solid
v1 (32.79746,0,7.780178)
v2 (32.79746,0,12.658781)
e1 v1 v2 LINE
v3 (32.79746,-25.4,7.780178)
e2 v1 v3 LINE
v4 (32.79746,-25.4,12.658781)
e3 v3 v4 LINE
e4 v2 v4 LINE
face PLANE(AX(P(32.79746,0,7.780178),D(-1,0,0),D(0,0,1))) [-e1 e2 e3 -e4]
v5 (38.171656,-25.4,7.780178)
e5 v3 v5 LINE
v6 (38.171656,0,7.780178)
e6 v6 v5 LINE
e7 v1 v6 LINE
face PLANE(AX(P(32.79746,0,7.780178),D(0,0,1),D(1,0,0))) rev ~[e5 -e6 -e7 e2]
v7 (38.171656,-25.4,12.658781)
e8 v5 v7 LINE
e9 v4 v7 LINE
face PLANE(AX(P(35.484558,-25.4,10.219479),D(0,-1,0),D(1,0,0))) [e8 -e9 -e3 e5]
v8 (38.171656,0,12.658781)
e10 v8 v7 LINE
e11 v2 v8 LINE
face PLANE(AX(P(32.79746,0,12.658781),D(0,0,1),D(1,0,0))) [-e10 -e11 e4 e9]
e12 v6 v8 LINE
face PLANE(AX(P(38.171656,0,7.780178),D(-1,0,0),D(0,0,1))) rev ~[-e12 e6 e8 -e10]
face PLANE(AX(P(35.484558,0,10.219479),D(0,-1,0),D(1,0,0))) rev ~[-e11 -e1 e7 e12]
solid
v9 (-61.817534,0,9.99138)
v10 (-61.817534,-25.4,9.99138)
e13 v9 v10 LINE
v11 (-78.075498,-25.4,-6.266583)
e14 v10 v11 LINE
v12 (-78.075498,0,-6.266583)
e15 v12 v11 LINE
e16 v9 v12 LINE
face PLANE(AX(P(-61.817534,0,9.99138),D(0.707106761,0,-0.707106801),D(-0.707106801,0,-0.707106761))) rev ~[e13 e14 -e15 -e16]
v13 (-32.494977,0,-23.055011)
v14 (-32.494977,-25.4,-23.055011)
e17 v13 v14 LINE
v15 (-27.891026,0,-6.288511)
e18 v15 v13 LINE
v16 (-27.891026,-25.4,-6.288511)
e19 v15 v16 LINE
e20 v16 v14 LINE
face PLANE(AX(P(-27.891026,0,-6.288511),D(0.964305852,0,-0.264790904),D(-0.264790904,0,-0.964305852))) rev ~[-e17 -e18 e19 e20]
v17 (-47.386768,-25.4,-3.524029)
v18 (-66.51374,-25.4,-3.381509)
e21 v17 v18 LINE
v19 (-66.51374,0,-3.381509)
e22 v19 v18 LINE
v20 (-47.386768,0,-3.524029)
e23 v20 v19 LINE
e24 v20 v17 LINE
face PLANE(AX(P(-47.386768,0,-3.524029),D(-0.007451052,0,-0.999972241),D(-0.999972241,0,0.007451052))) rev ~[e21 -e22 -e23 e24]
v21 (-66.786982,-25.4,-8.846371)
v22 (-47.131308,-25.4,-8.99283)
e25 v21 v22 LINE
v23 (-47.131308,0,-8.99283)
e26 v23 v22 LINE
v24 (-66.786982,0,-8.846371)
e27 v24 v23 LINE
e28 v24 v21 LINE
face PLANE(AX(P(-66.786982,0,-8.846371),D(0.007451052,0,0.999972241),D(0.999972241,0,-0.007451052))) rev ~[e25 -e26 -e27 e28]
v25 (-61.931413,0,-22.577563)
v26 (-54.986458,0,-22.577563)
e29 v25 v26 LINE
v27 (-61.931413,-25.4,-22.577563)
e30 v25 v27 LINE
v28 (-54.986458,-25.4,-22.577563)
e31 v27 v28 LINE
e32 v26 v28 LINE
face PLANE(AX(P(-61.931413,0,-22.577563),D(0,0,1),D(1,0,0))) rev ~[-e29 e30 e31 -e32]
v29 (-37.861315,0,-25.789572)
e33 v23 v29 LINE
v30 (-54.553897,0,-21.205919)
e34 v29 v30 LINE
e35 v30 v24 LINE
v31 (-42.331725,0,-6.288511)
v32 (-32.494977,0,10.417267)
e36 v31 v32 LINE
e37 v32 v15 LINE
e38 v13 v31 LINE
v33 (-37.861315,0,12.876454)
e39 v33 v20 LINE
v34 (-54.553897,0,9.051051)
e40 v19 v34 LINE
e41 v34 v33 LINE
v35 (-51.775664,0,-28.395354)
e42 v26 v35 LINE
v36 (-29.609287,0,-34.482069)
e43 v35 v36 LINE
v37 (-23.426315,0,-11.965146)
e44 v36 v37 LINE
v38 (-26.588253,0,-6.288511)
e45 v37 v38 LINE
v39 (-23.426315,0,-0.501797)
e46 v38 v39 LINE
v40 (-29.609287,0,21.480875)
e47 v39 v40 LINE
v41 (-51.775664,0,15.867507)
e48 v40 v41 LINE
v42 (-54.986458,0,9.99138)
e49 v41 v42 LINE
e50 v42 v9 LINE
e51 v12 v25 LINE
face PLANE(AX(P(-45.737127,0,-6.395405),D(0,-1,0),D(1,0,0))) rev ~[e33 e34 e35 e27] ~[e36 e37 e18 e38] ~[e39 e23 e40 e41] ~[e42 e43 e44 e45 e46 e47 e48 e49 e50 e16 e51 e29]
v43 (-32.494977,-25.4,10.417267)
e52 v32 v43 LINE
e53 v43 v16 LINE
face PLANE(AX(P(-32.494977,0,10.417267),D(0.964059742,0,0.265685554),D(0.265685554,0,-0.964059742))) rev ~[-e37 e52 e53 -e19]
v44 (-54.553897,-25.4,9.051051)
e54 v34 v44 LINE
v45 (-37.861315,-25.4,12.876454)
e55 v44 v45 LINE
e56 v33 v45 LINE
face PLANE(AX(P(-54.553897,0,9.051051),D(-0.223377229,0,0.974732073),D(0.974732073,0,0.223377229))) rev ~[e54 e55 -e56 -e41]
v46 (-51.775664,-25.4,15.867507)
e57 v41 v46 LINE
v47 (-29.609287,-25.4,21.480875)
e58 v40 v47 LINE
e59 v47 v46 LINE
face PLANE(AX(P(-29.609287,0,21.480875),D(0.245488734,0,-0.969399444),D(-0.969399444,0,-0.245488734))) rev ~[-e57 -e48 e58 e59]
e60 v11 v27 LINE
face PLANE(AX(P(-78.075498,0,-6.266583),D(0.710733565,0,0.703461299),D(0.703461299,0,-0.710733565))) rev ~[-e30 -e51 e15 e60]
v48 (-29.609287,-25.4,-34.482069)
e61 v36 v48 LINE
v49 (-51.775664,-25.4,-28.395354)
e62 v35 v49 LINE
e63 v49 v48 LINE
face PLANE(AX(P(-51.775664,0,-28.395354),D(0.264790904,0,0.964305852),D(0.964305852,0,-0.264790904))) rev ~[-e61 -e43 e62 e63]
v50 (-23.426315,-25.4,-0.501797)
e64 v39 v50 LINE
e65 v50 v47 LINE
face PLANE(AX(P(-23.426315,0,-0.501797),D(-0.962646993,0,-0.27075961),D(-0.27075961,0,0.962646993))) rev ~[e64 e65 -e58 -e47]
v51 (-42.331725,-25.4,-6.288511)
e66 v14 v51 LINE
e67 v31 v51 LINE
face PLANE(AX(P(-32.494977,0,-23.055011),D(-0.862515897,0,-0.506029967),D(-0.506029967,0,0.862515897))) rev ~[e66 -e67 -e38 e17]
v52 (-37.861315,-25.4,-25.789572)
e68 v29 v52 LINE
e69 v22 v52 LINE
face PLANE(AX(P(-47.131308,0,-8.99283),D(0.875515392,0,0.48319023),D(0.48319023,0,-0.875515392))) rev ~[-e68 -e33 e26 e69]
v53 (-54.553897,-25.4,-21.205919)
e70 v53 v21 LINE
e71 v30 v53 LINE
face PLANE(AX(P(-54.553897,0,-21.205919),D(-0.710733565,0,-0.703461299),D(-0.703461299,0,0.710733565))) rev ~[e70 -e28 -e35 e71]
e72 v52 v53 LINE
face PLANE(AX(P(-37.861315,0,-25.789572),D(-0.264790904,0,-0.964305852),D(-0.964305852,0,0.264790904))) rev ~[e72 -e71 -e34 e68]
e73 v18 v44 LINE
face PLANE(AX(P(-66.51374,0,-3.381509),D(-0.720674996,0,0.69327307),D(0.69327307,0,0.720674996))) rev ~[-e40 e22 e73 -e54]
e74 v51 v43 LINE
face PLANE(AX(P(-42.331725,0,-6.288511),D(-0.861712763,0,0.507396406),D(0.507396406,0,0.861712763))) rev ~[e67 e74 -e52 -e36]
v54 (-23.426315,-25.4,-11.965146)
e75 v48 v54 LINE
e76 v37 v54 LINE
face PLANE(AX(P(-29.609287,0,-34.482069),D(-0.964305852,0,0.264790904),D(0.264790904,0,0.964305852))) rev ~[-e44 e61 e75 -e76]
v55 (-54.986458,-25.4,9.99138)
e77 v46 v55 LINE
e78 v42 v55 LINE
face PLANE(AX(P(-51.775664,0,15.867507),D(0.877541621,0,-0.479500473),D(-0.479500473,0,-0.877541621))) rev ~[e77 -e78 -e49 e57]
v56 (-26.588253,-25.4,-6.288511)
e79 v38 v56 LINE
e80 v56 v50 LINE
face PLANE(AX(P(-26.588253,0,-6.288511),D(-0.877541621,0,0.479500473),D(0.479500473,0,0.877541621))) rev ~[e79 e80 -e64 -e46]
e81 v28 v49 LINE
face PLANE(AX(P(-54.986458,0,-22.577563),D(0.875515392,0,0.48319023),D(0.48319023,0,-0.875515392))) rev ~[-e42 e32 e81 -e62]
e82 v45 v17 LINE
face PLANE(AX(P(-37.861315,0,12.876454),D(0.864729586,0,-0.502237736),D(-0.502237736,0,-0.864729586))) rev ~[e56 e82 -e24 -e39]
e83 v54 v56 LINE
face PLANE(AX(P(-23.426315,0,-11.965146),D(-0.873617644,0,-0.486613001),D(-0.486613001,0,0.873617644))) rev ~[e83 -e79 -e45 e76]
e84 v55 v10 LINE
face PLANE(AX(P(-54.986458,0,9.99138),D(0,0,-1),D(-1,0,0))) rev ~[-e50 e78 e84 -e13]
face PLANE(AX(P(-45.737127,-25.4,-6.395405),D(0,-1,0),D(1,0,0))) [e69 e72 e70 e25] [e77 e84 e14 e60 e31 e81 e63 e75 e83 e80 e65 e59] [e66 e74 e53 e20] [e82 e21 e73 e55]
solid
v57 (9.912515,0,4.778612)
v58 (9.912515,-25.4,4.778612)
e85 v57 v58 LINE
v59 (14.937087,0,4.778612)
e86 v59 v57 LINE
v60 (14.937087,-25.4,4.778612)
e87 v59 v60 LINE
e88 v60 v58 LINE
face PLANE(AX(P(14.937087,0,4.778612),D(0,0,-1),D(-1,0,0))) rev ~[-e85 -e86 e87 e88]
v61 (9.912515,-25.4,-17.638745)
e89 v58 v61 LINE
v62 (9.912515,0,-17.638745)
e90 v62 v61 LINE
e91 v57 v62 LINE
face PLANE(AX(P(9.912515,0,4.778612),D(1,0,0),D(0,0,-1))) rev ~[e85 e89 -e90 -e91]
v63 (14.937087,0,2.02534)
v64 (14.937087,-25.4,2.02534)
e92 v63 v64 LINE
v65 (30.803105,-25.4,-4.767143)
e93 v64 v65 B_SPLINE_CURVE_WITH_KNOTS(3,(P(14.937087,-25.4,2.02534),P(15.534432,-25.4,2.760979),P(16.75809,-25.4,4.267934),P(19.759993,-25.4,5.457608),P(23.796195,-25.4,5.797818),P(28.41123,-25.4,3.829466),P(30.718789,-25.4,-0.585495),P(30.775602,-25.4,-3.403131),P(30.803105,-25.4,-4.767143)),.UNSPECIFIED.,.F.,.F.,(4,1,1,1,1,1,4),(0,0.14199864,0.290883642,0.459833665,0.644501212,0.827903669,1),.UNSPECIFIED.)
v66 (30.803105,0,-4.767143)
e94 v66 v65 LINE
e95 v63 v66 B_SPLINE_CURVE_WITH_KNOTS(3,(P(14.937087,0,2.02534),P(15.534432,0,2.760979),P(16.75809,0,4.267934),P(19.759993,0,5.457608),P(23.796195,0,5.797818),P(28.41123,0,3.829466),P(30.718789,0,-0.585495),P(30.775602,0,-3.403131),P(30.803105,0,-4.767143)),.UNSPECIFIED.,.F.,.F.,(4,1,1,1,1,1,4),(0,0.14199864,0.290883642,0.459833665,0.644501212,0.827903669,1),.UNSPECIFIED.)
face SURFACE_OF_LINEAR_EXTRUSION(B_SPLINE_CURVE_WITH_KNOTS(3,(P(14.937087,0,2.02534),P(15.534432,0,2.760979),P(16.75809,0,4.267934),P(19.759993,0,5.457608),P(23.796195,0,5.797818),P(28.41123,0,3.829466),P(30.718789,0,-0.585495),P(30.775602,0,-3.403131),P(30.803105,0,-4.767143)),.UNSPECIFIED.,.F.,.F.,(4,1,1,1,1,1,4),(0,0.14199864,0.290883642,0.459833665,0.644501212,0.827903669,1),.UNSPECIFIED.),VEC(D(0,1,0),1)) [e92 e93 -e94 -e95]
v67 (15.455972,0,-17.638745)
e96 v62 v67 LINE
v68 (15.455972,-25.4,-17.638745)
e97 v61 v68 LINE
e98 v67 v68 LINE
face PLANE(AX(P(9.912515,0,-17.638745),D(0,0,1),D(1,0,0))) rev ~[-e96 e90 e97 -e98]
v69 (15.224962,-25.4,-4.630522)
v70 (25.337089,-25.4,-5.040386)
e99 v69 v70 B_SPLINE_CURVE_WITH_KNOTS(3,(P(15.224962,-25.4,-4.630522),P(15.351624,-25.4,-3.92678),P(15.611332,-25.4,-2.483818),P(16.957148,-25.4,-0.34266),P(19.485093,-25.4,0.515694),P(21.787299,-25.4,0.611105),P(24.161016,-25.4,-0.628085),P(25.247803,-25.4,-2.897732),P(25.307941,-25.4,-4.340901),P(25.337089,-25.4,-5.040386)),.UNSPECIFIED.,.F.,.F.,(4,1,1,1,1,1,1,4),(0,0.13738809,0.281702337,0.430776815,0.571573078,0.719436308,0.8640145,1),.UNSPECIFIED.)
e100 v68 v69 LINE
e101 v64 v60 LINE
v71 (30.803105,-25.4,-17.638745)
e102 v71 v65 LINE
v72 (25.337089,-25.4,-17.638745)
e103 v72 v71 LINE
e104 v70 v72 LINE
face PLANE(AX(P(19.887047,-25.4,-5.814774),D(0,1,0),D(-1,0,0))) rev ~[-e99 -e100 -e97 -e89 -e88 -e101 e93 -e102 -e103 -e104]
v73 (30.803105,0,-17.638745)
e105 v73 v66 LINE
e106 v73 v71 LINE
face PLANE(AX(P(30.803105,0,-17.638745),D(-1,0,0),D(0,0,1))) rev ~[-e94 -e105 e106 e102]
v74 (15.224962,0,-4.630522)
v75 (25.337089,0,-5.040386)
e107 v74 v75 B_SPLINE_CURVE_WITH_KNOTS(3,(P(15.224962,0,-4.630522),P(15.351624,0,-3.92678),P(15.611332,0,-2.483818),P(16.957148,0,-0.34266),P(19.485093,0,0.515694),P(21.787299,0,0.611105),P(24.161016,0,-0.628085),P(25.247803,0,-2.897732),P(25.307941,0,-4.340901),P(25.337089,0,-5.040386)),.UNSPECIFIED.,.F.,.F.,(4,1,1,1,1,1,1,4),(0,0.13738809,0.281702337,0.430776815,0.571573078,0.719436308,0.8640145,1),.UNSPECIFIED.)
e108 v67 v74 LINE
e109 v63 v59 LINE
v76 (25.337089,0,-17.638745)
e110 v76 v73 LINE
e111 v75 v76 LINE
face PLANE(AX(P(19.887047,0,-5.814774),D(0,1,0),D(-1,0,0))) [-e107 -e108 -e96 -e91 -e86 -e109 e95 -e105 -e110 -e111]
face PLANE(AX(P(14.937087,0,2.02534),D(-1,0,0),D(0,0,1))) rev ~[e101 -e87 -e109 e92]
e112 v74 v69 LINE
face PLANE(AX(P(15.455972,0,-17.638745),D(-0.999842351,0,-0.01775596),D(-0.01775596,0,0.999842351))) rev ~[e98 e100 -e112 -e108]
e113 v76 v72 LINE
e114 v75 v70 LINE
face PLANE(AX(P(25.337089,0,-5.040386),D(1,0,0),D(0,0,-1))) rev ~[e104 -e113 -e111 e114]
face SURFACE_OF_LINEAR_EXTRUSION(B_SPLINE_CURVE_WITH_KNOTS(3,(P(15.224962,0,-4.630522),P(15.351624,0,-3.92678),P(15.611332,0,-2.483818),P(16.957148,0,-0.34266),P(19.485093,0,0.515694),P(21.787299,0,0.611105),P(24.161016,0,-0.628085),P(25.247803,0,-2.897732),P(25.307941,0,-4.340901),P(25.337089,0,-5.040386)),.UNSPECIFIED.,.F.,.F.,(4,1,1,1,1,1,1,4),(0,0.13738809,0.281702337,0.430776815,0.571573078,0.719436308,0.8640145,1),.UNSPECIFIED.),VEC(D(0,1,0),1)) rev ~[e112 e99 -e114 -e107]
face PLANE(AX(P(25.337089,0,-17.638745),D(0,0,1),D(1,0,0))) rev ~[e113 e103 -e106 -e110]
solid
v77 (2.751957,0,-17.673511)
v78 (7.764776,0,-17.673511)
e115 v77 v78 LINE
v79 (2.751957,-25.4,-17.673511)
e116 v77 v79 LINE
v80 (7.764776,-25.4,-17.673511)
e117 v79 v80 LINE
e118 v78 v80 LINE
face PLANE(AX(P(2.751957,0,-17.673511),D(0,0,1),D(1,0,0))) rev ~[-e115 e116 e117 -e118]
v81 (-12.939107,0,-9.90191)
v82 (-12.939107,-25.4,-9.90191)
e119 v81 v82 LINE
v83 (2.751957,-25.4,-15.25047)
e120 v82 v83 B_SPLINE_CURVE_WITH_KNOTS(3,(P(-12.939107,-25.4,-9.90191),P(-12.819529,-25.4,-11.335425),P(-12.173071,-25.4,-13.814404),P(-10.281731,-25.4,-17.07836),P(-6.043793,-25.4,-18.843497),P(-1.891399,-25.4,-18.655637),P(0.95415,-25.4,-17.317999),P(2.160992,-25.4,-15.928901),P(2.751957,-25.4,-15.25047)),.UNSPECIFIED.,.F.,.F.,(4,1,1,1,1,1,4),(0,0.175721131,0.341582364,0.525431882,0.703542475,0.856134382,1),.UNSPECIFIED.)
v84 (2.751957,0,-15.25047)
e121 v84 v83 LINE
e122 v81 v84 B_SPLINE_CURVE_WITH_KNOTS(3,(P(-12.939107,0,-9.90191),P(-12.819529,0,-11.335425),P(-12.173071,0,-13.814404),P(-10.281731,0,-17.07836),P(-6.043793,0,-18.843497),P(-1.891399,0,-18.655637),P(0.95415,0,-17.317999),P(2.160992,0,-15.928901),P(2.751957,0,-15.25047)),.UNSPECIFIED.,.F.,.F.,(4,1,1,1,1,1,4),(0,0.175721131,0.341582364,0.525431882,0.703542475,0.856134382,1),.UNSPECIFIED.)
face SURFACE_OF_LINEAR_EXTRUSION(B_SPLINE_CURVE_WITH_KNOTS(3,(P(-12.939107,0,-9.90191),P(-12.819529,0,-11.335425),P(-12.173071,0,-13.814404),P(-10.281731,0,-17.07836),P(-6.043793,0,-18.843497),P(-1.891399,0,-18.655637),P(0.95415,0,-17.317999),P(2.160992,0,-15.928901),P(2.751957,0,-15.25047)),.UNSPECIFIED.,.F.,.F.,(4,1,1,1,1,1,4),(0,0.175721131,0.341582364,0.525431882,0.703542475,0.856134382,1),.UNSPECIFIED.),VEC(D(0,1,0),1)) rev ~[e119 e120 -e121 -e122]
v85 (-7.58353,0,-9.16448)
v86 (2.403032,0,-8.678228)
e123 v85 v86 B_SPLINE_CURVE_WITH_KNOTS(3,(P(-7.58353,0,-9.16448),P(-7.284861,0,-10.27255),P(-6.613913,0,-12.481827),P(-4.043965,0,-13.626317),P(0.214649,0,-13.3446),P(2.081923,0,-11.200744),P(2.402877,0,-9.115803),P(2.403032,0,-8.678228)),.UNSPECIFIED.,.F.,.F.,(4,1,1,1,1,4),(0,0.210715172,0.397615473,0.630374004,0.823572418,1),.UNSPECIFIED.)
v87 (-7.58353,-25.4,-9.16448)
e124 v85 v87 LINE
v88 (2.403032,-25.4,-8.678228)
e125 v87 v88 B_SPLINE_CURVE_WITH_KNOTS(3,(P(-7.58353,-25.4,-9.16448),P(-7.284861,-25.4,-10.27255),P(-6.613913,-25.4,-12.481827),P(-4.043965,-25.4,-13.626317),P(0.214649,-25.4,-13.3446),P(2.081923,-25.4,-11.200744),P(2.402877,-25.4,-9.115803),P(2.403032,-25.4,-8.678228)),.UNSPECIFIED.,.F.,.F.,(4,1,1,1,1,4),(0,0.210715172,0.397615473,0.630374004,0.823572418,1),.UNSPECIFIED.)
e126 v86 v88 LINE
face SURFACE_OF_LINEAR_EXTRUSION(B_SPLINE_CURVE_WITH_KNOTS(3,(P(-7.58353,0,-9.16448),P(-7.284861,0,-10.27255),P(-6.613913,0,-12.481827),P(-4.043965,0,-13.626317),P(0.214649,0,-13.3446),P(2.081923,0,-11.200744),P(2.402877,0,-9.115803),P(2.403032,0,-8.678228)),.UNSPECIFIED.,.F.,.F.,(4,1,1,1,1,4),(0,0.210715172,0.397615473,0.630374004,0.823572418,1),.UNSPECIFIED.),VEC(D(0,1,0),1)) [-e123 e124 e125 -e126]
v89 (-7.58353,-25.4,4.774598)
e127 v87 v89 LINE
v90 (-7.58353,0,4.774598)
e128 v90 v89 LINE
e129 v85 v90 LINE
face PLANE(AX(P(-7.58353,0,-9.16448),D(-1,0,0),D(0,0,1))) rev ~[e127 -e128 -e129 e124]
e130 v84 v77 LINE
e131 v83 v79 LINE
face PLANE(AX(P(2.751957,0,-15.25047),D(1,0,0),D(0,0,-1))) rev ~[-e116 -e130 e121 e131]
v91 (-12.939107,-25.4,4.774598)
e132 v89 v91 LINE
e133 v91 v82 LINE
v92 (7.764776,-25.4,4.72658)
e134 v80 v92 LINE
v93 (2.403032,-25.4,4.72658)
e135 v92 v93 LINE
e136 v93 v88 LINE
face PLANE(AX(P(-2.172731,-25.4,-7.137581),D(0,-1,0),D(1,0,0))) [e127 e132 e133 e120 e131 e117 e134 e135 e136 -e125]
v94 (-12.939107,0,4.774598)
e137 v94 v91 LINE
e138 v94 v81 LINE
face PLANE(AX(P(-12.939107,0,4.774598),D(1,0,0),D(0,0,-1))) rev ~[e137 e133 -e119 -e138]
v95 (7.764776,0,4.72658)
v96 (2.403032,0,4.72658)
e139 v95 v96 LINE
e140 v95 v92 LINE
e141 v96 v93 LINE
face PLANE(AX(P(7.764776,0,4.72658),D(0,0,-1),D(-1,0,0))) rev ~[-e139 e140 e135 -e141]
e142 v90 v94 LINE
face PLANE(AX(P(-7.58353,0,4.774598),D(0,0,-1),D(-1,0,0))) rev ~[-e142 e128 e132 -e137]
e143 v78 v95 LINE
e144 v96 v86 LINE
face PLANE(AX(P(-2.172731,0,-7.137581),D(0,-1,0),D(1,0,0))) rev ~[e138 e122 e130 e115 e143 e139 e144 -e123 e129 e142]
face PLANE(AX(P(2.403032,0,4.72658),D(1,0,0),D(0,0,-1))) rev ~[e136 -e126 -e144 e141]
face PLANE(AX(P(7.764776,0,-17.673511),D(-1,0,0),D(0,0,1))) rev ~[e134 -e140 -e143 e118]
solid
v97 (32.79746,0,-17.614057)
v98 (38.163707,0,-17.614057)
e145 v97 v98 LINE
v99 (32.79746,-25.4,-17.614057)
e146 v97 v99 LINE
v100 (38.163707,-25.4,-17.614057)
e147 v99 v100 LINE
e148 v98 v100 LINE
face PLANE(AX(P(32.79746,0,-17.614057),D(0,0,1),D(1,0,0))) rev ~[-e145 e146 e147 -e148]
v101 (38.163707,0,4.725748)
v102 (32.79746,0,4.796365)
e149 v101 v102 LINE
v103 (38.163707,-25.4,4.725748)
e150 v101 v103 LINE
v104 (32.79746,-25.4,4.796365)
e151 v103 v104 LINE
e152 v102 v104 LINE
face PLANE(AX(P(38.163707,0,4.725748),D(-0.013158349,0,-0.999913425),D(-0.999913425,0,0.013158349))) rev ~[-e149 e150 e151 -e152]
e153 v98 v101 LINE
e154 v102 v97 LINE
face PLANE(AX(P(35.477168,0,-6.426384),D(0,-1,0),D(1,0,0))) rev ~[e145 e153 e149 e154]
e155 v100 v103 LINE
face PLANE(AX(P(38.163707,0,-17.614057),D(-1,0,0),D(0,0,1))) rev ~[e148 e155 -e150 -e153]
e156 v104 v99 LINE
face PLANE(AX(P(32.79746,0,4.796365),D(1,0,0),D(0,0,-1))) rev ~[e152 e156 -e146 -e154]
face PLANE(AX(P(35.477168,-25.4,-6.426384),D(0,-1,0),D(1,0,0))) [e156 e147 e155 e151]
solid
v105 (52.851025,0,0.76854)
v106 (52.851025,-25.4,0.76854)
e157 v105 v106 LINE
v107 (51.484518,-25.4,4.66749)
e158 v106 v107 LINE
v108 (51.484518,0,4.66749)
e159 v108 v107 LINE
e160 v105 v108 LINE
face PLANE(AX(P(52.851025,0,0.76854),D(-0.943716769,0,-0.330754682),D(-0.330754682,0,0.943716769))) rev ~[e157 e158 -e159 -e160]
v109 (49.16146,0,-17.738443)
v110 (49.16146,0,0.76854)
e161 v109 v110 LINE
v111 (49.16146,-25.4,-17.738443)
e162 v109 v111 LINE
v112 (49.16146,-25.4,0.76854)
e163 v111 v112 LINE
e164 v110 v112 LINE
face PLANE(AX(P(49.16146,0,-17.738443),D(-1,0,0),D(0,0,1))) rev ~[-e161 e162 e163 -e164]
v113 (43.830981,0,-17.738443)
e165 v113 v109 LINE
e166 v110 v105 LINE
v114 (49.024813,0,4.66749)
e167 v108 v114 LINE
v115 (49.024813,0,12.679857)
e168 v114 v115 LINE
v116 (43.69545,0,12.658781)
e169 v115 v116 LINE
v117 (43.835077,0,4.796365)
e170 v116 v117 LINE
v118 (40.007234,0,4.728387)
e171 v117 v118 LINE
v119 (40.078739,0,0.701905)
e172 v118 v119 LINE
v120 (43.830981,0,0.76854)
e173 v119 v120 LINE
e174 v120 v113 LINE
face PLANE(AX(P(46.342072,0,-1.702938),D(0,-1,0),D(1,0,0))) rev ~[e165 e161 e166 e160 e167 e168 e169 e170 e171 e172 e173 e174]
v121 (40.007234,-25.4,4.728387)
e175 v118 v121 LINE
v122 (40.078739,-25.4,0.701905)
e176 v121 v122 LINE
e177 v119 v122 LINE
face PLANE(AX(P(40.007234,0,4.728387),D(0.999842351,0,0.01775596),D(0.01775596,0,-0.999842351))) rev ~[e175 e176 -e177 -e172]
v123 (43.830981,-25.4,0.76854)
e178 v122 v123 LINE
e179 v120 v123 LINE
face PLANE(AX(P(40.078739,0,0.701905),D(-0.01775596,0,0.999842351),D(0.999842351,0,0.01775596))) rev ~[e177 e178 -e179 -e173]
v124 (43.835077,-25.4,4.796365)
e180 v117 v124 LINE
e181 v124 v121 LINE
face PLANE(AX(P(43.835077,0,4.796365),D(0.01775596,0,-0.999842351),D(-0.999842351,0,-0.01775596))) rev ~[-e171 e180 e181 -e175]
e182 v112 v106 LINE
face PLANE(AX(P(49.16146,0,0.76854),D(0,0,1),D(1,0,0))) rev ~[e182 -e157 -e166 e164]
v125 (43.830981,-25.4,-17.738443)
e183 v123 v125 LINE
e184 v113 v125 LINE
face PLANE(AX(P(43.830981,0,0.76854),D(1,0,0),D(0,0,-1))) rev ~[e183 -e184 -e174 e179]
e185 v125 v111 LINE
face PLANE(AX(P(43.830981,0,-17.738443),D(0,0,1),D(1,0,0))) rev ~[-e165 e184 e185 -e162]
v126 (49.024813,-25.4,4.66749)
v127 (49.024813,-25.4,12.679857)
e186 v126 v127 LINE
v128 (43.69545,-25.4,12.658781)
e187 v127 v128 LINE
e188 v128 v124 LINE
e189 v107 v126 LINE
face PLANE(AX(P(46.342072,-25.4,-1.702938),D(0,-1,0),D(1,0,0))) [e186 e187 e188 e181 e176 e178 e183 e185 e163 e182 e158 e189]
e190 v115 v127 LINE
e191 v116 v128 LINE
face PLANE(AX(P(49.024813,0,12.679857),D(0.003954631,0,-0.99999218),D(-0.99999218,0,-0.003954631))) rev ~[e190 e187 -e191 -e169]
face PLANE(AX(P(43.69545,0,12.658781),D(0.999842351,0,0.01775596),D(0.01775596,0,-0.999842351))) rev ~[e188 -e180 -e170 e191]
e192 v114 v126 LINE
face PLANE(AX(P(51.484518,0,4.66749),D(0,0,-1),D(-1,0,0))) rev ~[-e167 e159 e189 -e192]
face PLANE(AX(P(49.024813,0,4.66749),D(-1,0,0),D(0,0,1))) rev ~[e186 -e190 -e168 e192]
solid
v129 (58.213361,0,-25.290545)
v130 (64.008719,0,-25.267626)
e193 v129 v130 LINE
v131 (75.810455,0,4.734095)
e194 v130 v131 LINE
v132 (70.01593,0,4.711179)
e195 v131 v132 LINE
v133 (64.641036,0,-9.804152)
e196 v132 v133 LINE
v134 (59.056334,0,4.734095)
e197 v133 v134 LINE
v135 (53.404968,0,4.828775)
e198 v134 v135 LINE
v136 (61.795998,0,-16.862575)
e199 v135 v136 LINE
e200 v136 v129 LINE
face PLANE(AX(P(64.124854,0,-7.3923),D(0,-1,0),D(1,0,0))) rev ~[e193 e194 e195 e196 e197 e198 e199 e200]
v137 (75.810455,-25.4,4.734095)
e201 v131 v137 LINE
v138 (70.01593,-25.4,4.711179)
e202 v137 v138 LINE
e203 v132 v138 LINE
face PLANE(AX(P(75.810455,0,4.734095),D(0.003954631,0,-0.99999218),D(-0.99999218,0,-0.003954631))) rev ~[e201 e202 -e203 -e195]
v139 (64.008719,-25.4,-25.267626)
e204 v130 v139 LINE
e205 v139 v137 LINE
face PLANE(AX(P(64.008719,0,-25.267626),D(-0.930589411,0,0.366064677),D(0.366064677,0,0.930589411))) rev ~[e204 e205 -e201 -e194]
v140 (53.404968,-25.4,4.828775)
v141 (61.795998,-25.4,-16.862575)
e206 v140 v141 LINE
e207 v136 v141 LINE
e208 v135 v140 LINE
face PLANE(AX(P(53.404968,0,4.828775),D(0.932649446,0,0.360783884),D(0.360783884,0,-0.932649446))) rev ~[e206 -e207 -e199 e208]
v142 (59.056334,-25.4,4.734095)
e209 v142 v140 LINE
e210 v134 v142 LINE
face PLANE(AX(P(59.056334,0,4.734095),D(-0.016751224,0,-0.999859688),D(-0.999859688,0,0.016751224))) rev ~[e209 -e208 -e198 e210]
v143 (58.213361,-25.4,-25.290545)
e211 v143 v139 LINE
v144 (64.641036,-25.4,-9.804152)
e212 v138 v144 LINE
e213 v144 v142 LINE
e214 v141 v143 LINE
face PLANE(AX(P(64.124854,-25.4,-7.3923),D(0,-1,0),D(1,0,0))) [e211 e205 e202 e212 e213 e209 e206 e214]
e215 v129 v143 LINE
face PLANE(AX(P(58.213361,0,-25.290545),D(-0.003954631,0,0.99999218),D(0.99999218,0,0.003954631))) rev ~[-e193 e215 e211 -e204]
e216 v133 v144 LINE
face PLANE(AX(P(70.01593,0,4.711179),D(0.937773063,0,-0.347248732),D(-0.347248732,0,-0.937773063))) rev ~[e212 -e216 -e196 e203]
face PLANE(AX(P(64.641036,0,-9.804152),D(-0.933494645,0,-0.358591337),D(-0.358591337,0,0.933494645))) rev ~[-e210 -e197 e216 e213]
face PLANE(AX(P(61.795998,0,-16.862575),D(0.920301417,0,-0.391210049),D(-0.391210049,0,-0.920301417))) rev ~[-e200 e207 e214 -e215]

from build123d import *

# Parameters (mm, degrees)
F1_DEPTH = 25.4
F0_W     = 5.3741969168
F0_H     = 4.8786038533


with BuildPart() as f1:
    # F0 (on Front) → F1 (new body)
    with BuildSketch(Plane.XZ):
        Polygon((-61.8175342679, 9.9913803861), (-78.0754983425, -6.2665827572), (-61.931412667, -22.5775633007), (-54.9864582717, -22.5775633007), (-51.7756640911, -28.3953542085), (-29.6092871577, -34.4820693135), (-23.4263148159, -11.9651462883), (-26.5882525722, -6.2885108306), (-23.4263148159, -0.5017970689), (-29.6092871577, 21.4808750898), (-51.7756640911, 15.8675070852), (-54.9864582717, 9.9913803861), align=None)
        Polygon((-54.5538974927, -21.2059187205), (-66.7869821191, -8.8463705033), (-47.1313082578, -8.9928300249), (-37.8613149982, -25.7895723467), align=None, mode=Mode.SUBTRACT)
        Polygon((-66.5137395263, -3.381509101), (-54.5538974927, 9.0510509908), (-37.8613149982, 12.8764538094), (-47.3867684548, -3.524029121), align=None, mode=Mode.SUBTRACT)
        Polygon((-32.4949771166, -23.0550114065), (-42.331725359, -6.2885108306), (-32.4949771166, 10.4172667488), (-27.8910261588, -6.2885108306), align=None, mode=Mode.SUBTRACT)
    extrude(amount=F1_DEPTH)


with BuildPart() as f1b:
    # F0 (on Front) → F1, piece 2 (new body)
    with BuildSketch(Plane.XZ):
        with BuildLine():
            Line((-7.5835298893, 4.7745979391), (-12.939106673, 4.7745979391))
            Line((-12.939106673, 4.7745979391), (-12.939106673, -9.901910089))
            add(Edge.make_bspline(
                [(-12.939106673, -9.901910089), (-12.8195294496, -11.335424735), (-12.1730706321, -13.8144036121), (-10.2817312423, -17.0783601025), (-6.0437932119, -18.8434973108), (-1.891398807, -18.6556372476), (0.9541501655, -17.3179992209), (2.1609917179, -15.9289006997), (2.7519573923, -15.2504704893)],
                knots=[0, 0, 0, 0, 0.1757211311, 0.3415823641, 0.5254318819, 0.703542475, 0.8561343818, 1, 1, 1, 1], degree=3))
            Line((2.7519573923, -15.2504704893), (2.7519573923, -17.6735110581))
            Line((2.7519573923, -17.6735110581), (7.7647762373, -17.6735110581))
            Line((7.7647762373, -17.6735110581), (7.7647762373, 4.7265798785))
            Line((7.7647762373, 4.7265798785), (2.4030324872, 4.7265798785))
            Line((2.4030324872, 4.7265798785), (2.4030324872, -8.6782282079))
            add(Edge.make_bspline(
                [(-7.5835298893, -9.1644796788), (-7.2848614749, -10.2725499275), (-6.6139134778, -12.4818270071), (-4.0439647098, -13.6263171971), (0.2146485756, -13.3446000384), (2.0819233672, -11.2007439975), (2.402876918, -9.1158028323), (2.4030324872, -8.6782282079)],
                knots=[0, 0, 0, 0, 0.2107151722, 0.3976154728, 0.6303740039, 0.8235724182, 1, 1, 1, 1], degree=3))
            Line((-7.5835298893, -9.1644796788), (-7.5835298893, 4.7745979391))
        make_face()
    extrude(amount=F1_DEPTH)


with BuildPart() as f1c:
    # F0 (on Front) → F1, piece 3 (new body)
    with BuildSketch(Plane.XZ):
        with BuildLine():
            add(Edge.make_bspline(
                [(14.9370869622, 2.0253402181), (15.534431752, 2.7609794713), (16.7580901476, 4.2679335182), (19.7599927713, 5.4576080514), (23.7961951925, 5.7978179931), (28.4112301272, 3.8294664448), (30.7187893168, -0.5854952277), (30.7756019621, -3.4031307986), (30.8031048626, -4.7671431676)],
                knots=[0, 0, 0, 0, 0.1419986402, 0.2908836425, 0.4598336653, 0.6445012121, 0.827903669, 1, 1, 1, 1], degree=3))
            Line((14.9370869622, 2.0253402181), (14.9370869622, 4.7786119394))
            Line((14.9370869622, 4.7786119394), (9.9125150591, 4.7786119394))
            Line((9.9125150591, 4.7786119394), (9.9125150591, -17.6387447864))
            Line((9.9125150591, -17.6387447864), (15.4559724033, -17.6387447864))
            Line((15.4559724033, -17.6387447864), (15.2249624953, -4.6305218711))
            add(Edge.make_bspline(
                [(15.2249624953, -4.6305218711), (15.3516237058, -3.926779829), (15.6113315095, -2.4838179354), (16.957148298, -0.3426604733), (19.4850934176, 0.5156936091), (21.7872988929, 0.611104947), (24.1610164356, -0.6280850599), (25.2478034031, -2.8977320199), (25.3079409714, -4.3409012448), (25.3370888531, -5.040386226)],
                knots=[0, 0, 0, 0, 0.1373880895, 0.2817023367, 0.4307768151, 0.571573078, 0.7194363083, 0.8640145, 1, 1, 1, 1], degree=3))
            Line((25.3370888531, -5.040386226), (25.3370888531, -17.6387447864))
            Line((25.3370888531, -17.6387447864), (30.8031048626, -17.6387447864))
            Line((30.8031048626, -17.6387447864), (30.8031048626, -4.7671431676))
        make_face()
    extrude(amount=F1_DEPTH)


with BuildPart() as f1d:
    # F0 (on Front) → F1, piece 4 (new body)
    with BuildSketch(Plane.XZ):
        Polygon((38.1637066603, 4.7257477418), (32.7974595129, 4.7963648103), (32.7974595129, -17.6140572876), (38.1637066603, -17.6140572876), align=None)
    extrude(amount=F1_DEPTH)


with BuildPart() as f1e:
    # F0 (on Front) → F1, piece 5 (new body)
    with BuildSketch(Plane.XZ):
        with Locations((35.4845579714, 10.2194794454)):
            Rectangle(F0_W, F0_H)
    extrude(amount=F1_DEPTH)


with BuildPart() as f1f:
    # F0 (on Front) → F1, piece 6 (new body)
    with BuildSketch(Plane.XZ):
        Polygon((49.0248128772, 12.6798572019), (43.6954498291, 12.658781372), (43.8350765974, 4.7963648103), (40.0072335546, 4.7283870646), (40.0787388816, 0.7019050787), (43.8309807873, 0.7685402419), (43.8309807873, -17.738442868), (49.1614602506, -17.738442868), (49.1614602506, 0.7685402419), (52.8510250151, 0.7685402419), (51.4845177531, 4.6674897894), (49.0248128772, 4.6674897894), align=None)
    extrude(amount=F1_DEPTH)


with BuildPart() as f1g:
    # F0 (on Front) → F1, piece 7 (new body)
    with BuildSketch(Plane.XZ):
        Polygon((59.0563341975, 4.7340947203), (53.4049682319, 4.8287753016), (61.7959983647, -16.8625749648), (58.2133606076, -25.2905450761), (64.0087189905, -25.2676263922), (75.8104547858, 4.7340947203), (70.0159296339, 4.7111793315), (64.6410360932, -9.8041519523), align=None)
    extrude(amount=F1_DEPTH)


solid = Compound([f1.part, f1b.part, f1c.part, f1d.part, f1e.part, f1f.part, f1g.part])
